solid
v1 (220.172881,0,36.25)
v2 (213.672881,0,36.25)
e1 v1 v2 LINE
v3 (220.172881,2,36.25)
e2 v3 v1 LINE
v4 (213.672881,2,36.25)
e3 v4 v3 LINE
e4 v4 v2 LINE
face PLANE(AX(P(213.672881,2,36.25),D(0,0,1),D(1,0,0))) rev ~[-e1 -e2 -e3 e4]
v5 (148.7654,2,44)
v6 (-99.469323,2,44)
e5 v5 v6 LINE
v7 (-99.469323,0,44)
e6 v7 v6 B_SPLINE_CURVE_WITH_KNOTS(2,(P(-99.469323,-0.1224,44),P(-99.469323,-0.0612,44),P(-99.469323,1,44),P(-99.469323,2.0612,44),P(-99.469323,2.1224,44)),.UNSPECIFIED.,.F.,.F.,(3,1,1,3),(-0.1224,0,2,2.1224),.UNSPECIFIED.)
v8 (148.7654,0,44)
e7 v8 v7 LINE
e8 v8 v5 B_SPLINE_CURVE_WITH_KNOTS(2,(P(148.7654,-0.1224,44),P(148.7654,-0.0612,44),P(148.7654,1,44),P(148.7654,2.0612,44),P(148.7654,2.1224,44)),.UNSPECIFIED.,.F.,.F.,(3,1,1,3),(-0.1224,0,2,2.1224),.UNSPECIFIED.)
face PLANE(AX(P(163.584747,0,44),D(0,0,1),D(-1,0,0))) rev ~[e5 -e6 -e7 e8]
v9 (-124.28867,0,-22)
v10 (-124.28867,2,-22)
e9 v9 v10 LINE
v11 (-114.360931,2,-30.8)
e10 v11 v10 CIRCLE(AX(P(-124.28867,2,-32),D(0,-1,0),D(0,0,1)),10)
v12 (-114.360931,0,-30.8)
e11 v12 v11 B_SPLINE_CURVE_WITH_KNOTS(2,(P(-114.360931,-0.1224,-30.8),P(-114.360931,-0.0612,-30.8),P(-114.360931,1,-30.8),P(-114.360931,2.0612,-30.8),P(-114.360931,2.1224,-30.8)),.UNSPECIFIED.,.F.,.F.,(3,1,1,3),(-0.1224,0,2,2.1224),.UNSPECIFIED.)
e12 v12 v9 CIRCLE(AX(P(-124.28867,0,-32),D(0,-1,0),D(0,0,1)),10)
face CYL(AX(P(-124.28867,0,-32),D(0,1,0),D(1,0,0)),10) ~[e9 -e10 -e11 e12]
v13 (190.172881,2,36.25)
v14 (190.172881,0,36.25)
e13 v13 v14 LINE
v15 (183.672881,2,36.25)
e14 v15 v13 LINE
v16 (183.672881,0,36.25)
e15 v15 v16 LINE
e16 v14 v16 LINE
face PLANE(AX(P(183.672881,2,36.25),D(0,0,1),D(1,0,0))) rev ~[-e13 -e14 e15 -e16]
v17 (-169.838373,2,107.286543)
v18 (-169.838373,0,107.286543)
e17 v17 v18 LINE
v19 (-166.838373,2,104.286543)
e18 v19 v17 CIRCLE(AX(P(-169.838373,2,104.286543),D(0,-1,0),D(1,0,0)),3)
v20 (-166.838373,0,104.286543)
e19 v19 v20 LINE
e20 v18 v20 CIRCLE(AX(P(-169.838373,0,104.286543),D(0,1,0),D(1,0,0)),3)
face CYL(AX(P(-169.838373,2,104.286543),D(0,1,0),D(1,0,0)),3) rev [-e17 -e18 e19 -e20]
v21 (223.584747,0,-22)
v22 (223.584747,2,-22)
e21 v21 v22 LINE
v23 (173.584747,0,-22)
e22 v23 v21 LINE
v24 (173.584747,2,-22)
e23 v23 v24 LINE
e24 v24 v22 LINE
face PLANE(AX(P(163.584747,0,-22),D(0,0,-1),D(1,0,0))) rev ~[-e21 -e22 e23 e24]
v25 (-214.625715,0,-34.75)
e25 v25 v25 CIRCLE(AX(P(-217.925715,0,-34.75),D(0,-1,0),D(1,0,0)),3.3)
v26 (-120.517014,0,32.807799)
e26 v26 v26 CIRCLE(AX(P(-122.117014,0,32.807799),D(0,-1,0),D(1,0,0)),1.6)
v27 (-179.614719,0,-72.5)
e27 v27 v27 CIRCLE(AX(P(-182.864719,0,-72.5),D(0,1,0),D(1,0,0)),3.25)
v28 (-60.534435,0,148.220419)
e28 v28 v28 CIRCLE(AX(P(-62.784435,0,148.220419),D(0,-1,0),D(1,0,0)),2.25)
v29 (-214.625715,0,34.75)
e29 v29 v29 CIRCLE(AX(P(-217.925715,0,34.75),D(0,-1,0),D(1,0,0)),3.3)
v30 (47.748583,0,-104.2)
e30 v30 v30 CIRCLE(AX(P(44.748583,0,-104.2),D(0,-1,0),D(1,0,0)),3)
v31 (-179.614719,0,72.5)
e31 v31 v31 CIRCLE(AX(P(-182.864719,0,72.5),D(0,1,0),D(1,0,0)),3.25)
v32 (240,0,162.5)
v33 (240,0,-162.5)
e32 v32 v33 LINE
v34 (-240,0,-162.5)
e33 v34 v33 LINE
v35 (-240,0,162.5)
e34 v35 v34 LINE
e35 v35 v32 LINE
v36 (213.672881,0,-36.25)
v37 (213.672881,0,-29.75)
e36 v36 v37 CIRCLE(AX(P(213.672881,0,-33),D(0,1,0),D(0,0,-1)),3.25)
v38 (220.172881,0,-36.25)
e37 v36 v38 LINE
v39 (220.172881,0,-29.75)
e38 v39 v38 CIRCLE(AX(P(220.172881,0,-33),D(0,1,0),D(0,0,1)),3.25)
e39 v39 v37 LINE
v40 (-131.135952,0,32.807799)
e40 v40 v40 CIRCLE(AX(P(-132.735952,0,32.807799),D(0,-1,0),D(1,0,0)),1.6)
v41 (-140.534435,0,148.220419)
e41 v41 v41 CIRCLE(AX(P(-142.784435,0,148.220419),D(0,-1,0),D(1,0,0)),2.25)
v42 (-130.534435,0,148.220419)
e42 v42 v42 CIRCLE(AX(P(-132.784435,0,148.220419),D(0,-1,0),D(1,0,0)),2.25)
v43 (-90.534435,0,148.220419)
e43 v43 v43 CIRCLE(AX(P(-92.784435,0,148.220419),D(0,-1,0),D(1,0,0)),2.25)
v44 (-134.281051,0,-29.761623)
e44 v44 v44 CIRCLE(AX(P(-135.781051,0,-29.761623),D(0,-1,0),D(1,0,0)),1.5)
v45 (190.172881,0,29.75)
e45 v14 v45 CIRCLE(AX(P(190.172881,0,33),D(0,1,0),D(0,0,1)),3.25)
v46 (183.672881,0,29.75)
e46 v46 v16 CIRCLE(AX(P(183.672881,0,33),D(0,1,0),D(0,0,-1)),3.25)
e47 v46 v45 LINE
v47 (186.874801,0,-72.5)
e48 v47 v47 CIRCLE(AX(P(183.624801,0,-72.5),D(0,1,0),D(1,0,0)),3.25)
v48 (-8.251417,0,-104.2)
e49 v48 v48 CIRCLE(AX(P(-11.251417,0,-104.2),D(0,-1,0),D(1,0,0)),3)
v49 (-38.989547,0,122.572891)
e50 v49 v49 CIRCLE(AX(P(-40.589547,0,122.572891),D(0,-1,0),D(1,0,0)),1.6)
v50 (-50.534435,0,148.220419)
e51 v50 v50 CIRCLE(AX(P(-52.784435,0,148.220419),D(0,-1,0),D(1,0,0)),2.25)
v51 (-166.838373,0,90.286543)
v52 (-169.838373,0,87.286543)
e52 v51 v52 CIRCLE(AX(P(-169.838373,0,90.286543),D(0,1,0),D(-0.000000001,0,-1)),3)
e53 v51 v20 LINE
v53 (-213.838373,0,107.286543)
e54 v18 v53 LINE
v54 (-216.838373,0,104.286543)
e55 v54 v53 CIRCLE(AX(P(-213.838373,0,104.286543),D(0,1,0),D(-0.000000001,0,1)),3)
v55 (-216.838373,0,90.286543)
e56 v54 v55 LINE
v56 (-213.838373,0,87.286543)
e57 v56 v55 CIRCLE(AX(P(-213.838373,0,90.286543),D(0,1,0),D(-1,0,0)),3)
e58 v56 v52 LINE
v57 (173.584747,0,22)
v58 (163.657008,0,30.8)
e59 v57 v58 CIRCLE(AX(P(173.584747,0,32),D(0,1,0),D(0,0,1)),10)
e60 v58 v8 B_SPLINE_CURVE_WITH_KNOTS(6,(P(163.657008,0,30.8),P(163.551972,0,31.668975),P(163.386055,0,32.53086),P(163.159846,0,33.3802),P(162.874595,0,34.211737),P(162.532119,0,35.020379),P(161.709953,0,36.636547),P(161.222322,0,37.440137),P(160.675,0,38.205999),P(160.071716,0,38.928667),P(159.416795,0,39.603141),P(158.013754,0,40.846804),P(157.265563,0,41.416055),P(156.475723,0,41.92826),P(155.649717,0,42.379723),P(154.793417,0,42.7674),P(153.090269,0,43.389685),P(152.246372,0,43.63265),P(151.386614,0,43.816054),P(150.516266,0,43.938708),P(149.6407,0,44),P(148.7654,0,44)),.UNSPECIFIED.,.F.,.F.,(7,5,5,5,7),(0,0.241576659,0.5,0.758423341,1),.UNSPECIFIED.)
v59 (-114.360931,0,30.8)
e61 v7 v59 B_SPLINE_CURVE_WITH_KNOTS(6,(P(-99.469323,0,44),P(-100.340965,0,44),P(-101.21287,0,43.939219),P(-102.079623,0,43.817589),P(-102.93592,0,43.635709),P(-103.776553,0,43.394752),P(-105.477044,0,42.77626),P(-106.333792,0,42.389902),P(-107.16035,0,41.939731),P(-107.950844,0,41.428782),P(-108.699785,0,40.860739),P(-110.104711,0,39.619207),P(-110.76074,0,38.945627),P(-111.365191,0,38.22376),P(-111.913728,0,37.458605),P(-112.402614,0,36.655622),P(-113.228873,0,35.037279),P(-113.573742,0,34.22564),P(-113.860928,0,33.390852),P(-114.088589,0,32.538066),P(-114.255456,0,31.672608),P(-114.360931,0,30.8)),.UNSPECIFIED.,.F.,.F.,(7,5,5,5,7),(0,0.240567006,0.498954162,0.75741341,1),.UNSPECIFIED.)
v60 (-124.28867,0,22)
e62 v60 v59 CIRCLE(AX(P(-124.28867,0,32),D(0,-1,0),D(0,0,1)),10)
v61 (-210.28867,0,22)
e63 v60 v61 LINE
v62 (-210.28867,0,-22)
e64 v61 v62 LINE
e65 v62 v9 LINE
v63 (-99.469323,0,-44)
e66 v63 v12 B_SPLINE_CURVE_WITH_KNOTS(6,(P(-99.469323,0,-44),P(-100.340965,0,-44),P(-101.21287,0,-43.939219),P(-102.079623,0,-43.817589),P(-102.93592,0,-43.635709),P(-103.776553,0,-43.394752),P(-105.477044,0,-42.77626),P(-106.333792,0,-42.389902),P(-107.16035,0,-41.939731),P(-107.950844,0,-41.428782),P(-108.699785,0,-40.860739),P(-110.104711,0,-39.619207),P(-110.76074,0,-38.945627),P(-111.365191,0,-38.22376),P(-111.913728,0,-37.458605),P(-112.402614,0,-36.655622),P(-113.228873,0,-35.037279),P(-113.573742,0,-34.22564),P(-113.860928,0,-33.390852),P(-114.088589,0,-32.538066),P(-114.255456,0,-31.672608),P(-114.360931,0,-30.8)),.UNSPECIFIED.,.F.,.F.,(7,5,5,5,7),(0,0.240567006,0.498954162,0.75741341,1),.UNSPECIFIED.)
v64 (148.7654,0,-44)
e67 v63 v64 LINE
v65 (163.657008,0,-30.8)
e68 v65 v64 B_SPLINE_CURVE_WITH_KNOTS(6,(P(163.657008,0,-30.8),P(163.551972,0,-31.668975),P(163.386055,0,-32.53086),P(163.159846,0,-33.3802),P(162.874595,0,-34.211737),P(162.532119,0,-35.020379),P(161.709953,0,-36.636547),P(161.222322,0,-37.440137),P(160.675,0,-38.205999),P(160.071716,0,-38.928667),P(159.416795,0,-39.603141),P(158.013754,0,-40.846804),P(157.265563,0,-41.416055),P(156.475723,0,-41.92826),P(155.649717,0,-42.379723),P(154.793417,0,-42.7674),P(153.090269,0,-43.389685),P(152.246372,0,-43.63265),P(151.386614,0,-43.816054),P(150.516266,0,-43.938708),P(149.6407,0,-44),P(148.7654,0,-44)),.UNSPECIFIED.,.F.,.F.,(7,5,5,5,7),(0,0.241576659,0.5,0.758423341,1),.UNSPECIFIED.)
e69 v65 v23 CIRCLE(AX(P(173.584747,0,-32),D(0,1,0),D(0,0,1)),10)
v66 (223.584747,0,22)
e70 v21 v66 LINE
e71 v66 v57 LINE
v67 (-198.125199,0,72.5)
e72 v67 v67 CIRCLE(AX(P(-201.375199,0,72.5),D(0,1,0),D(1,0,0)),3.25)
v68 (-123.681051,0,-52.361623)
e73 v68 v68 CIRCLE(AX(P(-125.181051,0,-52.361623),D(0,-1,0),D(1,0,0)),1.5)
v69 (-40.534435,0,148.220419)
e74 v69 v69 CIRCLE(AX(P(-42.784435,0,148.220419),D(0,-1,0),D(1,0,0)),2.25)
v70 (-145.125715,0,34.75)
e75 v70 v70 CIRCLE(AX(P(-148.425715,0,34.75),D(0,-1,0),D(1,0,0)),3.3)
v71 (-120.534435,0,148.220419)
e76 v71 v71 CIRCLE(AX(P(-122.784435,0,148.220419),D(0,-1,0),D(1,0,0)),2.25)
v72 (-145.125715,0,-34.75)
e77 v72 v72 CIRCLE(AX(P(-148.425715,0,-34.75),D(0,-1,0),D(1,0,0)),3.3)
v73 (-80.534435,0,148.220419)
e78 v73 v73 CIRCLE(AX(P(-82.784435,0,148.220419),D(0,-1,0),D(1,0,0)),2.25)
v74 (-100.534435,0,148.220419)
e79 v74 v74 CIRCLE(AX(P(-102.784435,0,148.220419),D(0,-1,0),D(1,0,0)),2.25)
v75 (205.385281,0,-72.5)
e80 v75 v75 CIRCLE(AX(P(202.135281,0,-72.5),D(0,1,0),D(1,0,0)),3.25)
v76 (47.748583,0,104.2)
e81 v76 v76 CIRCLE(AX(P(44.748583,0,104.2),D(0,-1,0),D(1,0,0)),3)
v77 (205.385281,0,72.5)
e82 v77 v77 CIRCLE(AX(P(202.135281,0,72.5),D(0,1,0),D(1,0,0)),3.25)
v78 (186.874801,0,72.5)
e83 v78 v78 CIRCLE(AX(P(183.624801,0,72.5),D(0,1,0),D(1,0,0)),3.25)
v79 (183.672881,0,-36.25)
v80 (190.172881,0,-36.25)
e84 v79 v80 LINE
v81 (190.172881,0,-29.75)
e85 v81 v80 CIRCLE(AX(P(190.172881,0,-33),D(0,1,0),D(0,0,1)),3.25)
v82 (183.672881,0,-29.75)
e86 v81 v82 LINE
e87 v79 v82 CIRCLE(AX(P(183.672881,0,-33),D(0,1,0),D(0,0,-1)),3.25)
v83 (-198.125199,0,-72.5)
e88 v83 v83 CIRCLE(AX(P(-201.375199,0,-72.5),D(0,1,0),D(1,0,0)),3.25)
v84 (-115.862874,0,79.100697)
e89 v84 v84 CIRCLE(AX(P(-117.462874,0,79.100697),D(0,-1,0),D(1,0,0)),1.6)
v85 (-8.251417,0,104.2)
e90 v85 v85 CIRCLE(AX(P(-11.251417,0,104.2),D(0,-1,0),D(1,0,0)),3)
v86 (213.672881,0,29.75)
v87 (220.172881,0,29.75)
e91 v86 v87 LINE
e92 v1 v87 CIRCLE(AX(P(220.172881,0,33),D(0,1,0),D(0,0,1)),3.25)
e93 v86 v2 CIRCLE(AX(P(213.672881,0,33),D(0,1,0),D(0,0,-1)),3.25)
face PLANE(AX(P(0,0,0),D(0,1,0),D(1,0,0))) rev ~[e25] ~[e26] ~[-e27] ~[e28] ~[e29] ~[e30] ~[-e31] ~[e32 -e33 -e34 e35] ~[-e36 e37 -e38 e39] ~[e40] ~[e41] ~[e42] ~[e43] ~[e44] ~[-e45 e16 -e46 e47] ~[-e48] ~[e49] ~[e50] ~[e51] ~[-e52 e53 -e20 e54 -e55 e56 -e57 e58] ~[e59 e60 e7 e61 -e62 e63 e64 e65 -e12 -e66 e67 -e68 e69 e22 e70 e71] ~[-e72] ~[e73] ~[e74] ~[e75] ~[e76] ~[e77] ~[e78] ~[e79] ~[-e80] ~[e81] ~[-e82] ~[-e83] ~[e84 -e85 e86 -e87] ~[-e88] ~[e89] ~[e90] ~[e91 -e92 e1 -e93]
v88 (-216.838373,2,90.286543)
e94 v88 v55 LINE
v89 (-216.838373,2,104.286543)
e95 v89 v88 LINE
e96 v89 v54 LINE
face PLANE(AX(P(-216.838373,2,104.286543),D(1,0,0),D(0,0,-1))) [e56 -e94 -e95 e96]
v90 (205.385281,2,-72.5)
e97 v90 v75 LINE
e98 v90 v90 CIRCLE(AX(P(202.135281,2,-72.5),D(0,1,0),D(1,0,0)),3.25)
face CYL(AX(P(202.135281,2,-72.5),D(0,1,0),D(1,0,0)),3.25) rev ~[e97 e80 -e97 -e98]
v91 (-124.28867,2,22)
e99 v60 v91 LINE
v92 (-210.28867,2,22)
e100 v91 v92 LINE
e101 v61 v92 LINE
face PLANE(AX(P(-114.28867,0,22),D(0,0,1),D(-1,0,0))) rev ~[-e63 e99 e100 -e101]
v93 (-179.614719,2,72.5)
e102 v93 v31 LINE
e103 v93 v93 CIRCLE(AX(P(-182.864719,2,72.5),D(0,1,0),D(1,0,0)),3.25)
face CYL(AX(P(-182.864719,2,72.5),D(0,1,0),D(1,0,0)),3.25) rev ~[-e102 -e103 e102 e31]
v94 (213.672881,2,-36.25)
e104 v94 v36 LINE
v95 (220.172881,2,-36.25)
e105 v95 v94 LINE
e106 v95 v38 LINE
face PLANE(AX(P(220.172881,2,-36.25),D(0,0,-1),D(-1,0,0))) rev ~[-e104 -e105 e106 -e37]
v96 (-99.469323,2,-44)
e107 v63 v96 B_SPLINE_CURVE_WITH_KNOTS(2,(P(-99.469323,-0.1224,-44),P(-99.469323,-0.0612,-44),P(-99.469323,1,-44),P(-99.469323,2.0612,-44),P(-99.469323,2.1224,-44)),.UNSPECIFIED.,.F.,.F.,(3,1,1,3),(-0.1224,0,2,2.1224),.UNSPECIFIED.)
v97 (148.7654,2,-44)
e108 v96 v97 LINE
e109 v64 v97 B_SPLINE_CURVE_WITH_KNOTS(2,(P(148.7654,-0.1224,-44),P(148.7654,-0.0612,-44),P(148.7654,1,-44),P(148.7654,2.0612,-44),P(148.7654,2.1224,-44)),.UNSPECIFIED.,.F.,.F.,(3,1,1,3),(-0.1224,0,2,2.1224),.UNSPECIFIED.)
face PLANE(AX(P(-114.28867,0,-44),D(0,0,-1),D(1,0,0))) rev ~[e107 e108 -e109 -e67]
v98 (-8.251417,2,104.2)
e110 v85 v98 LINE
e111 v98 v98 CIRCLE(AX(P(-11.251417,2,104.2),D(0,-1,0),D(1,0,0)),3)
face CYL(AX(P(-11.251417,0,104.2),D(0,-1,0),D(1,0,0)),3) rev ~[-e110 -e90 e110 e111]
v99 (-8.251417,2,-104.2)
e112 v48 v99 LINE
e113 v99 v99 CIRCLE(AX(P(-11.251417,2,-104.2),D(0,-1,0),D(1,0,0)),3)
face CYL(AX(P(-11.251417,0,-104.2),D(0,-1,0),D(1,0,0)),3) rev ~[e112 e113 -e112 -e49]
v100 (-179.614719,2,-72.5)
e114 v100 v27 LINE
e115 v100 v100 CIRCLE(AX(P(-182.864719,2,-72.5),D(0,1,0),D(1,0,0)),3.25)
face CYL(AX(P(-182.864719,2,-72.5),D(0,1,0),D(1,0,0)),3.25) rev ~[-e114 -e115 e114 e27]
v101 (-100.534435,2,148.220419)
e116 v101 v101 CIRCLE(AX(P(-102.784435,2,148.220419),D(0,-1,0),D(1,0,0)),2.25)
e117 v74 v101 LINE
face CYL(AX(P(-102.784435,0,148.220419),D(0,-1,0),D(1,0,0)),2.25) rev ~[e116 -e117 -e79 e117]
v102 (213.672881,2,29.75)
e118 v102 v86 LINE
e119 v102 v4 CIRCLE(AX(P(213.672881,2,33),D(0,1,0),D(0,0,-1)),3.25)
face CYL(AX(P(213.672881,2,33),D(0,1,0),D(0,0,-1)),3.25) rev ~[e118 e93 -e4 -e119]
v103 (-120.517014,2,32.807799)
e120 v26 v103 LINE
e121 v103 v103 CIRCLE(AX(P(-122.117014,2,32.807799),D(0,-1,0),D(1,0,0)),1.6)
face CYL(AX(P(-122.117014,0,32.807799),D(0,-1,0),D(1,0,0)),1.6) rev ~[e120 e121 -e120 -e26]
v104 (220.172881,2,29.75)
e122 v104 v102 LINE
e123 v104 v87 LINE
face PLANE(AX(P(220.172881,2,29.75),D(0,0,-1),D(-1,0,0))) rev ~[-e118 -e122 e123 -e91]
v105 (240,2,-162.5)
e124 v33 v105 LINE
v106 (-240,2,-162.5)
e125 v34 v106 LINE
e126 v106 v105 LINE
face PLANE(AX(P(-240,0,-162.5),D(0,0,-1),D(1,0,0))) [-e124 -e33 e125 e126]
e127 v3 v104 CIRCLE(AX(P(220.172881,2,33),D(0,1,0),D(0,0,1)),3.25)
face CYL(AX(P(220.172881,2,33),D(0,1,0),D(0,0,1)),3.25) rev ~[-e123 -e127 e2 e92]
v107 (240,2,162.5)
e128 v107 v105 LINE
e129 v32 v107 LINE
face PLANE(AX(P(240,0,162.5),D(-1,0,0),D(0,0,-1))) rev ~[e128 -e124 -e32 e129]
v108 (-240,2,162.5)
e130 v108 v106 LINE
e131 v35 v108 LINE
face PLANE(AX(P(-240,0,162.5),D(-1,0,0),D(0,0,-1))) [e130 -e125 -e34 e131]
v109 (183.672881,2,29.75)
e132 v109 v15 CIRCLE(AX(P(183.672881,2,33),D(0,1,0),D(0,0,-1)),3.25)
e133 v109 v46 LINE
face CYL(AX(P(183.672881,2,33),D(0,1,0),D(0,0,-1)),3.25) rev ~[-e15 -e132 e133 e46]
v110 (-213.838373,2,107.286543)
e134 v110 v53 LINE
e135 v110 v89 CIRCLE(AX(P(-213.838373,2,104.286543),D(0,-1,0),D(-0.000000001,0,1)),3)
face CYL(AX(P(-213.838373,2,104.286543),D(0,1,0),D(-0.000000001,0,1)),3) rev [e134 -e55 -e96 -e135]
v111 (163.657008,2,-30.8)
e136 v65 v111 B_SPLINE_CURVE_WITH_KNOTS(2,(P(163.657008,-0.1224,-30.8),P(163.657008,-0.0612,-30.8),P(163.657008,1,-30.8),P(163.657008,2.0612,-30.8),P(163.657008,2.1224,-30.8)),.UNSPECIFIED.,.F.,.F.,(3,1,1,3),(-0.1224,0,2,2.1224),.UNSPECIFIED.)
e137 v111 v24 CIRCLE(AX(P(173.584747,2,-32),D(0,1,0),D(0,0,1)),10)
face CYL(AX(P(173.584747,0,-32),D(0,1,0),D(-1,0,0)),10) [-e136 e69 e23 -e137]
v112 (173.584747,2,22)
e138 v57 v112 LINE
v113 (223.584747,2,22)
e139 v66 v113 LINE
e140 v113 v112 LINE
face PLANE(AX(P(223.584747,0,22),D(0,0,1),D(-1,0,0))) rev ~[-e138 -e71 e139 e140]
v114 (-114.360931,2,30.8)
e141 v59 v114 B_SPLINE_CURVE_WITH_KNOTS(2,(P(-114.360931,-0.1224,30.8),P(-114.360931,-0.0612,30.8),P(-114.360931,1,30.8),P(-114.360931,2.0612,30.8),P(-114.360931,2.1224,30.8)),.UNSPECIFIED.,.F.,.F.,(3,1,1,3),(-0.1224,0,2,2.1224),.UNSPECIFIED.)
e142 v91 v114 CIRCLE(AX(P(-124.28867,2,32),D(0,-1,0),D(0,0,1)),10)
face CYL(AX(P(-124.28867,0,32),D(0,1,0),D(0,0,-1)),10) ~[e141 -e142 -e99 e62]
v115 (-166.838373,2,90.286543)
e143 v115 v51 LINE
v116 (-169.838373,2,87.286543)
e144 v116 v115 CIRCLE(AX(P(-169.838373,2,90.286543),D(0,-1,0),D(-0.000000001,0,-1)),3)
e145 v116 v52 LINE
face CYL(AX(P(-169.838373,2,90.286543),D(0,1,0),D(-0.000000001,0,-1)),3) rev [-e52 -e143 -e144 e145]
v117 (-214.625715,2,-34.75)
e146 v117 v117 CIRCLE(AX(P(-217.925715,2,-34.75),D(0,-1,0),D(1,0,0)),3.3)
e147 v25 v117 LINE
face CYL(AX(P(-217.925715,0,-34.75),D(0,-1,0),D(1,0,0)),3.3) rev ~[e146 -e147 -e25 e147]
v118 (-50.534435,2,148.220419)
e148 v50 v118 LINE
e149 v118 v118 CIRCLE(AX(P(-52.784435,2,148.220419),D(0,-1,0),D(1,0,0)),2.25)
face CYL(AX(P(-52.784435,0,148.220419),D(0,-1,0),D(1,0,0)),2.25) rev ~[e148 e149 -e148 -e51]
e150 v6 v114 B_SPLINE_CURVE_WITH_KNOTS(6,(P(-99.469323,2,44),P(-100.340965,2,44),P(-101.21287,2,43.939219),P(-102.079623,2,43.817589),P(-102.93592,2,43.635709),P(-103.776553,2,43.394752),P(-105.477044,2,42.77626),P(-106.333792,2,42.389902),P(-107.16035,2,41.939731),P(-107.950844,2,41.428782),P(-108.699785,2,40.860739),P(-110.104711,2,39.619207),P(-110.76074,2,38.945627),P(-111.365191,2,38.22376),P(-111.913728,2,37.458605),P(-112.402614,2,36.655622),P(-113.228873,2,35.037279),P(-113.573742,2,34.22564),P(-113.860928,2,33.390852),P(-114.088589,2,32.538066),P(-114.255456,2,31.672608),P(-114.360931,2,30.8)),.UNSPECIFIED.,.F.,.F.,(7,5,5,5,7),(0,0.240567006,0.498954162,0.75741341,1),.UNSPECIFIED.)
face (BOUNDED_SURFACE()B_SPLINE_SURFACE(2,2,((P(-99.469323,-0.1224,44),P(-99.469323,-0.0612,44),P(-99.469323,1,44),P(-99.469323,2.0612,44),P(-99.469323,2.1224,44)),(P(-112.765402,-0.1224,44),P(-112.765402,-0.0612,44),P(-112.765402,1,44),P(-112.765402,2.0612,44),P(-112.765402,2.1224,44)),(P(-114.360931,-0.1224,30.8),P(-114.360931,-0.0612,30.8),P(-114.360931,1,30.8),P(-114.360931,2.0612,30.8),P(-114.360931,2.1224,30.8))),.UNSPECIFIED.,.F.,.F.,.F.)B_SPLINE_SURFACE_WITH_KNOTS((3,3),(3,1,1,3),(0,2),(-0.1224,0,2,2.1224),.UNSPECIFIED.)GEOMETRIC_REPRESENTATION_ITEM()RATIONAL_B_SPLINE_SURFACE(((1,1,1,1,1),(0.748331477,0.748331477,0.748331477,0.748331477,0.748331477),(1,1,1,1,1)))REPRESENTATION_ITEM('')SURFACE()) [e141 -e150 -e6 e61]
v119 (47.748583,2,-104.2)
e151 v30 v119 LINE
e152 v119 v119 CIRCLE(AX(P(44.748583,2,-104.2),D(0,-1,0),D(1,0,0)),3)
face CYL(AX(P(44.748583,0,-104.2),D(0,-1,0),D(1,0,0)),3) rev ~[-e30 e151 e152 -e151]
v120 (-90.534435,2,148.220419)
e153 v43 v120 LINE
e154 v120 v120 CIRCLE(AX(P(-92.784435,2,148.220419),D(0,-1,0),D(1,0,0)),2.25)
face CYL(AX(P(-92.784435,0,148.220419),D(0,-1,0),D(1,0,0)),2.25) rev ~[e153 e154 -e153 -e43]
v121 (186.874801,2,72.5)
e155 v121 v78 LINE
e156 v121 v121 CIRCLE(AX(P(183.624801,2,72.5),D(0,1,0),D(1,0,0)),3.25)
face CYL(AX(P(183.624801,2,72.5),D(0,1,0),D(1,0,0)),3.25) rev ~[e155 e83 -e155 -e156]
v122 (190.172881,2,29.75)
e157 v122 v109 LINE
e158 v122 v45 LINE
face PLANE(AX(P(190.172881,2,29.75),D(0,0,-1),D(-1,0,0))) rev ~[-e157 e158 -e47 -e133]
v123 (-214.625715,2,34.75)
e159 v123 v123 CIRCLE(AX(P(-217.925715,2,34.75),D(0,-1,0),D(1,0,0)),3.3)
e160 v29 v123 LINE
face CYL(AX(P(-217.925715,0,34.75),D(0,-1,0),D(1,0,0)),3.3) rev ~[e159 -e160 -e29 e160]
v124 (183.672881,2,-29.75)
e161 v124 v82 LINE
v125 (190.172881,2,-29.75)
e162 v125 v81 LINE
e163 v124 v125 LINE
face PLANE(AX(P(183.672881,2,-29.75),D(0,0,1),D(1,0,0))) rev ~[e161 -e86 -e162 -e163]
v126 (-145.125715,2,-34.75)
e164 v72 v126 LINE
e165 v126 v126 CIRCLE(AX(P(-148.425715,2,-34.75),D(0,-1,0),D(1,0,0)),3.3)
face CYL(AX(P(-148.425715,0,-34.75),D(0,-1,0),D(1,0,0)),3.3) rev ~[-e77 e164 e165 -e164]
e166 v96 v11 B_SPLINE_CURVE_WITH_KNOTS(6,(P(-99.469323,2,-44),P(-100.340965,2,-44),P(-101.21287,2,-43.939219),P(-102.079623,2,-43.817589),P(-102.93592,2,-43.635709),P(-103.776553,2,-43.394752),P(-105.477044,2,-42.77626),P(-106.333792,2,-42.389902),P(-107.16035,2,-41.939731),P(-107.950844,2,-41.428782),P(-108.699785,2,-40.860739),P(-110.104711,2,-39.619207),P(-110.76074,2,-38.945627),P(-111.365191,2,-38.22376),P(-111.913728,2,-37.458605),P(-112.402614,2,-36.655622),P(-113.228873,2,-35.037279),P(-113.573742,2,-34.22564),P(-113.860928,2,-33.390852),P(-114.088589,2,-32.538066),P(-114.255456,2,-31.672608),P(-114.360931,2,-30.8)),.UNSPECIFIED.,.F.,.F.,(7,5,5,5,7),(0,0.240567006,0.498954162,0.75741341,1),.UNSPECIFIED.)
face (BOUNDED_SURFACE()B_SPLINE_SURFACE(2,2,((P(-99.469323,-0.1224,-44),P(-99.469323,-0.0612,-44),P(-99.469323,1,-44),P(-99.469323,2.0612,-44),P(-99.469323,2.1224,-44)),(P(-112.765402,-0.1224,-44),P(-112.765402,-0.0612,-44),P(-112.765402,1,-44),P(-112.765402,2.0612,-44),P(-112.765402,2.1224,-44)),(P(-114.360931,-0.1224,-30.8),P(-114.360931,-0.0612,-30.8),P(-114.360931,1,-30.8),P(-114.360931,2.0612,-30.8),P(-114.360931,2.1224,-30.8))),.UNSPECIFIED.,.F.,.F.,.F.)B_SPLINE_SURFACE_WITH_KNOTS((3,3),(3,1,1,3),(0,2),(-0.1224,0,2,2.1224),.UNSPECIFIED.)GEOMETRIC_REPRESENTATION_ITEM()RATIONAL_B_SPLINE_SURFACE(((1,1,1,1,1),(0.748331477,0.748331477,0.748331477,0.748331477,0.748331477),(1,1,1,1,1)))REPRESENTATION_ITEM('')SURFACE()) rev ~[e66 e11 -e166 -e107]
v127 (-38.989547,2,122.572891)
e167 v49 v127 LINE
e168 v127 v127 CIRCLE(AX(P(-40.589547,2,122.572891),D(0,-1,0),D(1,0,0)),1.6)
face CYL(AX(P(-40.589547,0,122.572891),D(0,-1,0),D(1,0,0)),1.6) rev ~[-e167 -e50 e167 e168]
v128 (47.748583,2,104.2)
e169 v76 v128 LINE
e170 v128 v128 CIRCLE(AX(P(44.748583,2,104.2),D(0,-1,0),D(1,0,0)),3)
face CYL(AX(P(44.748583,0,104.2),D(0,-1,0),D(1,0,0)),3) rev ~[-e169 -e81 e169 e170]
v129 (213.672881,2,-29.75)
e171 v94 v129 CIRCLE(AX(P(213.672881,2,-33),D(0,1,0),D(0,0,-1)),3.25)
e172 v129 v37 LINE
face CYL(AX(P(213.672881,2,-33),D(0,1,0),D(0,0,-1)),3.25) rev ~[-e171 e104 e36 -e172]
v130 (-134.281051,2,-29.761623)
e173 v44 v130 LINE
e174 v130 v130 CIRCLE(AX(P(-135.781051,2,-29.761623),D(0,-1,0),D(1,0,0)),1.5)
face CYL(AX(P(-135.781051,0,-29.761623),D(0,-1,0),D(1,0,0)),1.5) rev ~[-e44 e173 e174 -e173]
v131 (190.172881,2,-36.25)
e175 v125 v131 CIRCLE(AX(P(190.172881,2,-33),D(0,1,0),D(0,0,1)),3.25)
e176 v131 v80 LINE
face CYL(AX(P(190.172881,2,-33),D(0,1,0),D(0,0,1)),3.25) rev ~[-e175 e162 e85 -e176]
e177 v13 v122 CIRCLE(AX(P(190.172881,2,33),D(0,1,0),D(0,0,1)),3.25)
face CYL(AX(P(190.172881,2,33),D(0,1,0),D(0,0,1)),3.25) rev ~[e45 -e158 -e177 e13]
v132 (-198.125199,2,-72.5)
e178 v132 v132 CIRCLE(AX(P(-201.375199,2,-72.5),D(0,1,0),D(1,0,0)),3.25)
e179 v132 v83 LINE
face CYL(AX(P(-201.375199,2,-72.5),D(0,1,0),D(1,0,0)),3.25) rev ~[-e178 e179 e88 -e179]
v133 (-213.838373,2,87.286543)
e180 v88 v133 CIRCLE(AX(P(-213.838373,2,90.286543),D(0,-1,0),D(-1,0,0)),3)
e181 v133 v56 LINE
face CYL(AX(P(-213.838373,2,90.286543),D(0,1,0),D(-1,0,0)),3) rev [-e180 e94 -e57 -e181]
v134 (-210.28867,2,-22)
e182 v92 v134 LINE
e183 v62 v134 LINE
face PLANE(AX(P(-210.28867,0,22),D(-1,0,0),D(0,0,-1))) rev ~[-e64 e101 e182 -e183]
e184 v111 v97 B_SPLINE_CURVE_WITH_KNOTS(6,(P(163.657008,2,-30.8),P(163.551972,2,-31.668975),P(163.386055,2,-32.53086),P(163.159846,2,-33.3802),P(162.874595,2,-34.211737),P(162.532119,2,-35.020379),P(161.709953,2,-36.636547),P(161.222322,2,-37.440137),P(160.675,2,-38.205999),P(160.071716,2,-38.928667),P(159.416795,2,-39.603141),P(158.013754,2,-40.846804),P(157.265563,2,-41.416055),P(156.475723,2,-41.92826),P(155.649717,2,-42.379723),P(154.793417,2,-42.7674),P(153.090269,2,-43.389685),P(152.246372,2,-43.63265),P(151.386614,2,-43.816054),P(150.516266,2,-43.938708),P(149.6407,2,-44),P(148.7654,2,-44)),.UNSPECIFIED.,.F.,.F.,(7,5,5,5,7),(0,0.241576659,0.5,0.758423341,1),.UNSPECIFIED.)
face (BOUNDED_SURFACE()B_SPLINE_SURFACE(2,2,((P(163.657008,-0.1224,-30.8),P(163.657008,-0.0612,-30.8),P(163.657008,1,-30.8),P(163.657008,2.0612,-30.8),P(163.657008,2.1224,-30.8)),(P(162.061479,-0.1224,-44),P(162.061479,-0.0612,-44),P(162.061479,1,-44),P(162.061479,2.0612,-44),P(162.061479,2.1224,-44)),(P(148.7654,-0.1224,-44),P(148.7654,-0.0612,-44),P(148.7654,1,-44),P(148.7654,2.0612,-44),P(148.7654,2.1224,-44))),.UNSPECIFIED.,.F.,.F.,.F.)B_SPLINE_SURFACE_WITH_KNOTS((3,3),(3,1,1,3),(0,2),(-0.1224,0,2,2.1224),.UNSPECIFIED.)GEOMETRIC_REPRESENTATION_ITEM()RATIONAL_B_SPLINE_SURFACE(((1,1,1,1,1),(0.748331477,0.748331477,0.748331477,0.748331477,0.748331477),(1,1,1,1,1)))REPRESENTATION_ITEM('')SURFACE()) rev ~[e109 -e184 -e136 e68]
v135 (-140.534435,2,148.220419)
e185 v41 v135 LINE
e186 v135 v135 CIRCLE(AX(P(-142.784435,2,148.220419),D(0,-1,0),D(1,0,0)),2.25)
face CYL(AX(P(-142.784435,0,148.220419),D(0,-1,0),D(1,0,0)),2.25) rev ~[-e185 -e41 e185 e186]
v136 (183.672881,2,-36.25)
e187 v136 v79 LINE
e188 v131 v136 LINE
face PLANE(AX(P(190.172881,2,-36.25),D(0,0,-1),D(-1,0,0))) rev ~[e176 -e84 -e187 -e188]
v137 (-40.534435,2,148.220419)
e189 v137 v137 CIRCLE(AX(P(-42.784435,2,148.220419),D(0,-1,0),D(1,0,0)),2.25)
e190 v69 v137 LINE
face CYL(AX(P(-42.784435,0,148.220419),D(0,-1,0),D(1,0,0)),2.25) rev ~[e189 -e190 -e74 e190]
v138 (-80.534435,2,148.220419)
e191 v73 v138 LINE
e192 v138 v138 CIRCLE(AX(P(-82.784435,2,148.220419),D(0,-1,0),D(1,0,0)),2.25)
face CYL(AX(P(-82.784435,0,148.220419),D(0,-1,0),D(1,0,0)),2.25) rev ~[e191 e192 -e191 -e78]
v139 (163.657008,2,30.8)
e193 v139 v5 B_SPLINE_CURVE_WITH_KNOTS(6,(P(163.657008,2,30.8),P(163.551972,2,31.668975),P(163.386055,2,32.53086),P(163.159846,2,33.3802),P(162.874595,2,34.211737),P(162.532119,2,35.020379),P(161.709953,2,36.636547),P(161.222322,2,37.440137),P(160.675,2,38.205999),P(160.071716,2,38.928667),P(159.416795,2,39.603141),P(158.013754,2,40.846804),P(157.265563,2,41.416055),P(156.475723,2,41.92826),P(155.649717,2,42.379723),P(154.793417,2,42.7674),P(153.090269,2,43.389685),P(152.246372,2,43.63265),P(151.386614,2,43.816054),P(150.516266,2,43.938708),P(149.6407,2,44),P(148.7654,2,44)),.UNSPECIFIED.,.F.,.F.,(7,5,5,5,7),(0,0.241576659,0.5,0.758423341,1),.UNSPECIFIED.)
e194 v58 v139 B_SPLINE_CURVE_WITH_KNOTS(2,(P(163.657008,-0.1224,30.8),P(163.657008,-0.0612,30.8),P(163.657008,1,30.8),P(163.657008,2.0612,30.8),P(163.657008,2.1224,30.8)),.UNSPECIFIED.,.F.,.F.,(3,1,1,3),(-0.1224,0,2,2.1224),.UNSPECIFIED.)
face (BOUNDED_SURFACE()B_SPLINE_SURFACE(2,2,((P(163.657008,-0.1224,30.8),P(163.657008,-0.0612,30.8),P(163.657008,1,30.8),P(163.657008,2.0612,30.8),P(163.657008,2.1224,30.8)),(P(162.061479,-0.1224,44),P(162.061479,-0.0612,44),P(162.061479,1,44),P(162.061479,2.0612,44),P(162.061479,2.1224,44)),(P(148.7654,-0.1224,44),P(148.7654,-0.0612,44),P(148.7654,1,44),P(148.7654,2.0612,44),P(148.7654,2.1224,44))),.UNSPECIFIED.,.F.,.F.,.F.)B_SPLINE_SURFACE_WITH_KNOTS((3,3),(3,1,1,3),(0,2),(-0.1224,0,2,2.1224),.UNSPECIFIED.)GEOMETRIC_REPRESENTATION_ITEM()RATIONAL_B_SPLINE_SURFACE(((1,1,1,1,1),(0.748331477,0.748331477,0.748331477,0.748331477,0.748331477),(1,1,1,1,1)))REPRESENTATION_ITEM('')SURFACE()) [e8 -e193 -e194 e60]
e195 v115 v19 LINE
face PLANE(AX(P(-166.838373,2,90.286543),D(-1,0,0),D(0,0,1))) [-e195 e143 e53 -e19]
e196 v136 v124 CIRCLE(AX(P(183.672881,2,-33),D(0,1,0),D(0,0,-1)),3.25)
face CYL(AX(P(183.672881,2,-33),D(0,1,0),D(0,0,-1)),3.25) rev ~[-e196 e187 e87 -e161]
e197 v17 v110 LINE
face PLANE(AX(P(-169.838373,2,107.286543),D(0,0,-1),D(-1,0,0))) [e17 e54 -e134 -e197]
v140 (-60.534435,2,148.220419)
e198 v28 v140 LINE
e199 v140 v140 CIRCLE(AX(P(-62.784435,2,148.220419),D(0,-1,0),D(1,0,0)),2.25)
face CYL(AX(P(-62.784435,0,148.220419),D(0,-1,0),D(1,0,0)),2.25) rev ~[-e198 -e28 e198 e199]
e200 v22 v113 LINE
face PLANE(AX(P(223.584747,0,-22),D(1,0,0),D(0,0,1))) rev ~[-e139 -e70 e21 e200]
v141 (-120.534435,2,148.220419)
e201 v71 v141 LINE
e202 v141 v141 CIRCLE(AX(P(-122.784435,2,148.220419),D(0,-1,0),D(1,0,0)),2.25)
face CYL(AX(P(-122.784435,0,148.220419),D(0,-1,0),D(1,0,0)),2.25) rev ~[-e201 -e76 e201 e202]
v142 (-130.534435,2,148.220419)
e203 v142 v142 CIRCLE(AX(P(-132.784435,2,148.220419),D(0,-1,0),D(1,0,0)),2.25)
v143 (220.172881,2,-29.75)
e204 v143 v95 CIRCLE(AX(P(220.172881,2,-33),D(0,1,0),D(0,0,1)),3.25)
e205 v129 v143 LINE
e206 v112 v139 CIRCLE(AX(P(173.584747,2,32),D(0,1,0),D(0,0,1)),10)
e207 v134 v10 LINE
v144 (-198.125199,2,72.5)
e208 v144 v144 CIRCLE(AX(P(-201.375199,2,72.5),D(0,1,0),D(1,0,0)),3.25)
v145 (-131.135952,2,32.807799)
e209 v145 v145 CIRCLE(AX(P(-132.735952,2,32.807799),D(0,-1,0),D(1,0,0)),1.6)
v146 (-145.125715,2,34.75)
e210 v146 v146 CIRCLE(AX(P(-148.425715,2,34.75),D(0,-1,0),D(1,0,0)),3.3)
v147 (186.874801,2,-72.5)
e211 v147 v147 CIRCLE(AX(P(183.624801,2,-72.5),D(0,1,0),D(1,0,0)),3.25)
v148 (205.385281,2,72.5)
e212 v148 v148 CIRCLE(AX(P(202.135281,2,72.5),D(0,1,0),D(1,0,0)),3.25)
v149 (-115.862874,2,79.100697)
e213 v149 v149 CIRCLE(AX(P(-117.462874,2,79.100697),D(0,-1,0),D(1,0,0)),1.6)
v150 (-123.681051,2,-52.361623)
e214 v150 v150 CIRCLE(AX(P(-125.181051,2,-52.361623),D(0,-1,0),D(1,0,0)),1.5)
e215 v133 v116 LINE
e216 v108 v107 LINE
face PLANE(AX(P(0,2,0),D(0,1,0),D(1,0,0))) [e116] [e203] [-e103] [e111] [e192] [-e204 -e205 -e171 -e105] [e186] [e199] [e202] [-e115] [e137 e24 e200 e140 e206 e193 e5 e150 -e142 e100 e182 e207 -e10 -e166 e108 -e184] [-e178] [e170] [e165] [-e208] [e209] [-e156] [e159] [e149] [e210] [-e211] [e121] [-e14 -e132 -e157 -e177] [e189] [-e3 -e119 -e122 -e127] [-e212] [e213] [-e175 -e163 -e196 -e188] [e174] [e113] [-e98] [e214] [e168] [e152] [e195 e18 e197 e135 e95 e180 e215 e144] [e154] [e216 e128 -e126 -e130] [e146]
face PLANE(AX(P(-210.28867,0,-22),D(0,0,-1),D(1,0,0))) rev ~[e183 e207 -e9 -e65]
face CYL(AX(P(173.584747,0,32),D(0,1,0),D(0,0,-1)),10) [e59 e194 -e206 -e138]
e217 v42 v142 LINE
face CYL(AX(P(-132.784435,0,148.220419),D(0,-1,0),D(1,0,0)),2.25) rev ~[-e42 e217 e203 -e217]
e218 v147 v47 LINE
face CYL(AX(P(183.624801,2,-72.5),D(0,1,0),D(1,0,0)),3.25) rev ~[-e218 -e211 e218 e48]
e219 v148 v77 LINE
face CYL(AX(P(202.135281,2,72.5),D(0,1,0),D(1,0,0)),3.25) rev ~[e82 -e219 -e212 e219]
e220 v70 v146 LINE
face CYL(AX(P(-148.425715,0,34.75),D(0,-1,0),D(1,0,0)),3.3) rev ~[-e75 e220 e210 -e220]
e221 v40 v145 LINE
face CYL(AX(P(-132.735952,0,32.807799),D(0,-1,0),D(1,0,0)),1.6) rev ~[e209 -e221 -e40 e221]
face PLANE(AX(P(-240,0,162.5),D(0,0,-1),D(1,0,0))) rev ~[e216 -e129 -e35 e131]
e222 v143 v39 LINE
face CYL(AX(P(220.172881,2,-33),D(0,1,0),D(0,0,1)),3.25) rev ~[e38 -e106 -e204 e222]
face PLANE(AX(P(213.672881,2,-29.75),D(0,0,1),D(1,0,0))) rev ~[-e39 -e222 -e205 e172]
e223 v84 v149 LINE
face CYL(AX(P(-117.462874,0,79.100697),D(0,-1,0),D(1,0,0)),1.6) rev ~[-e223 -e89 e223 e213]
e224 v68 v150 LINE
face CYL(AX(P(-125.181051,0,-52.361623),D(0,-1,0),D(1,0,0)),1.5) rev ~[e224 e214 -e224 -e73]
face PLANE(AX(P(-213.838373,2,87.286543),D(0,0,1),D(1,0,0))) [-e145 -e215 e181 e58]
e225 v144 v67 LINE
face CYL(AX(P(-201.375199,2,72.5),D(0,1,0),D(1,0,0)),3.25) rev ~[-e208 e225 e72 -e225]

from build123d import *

# Parameters (mm, degrees)
SKETCH1_W           = 480
SKETCH1_H           = 325
BOSS_EXTRUDE1_DEPTH = 2
CUT_EXTRUDE1_REACH  = 4
SKETCH2_R           = 3
CUT_EXTRUDE2_REACH  = 4
FILLET1_R           = 10
CUT_EXTRUDE3_REACH  = 4
SKETCH4_R           = 3.3
FILLET2_R           = 10
CUT_EXTRUDE11_REACH = 4
SKETCH12_R          = 1.5
FILLET3_R           = 15
CUT_EXTRUDE13_DEPTH = 3.0000001
CUT_EXTRUDE14_REACH = 4
SKETCH15_R          = 3.25
CUT_EXTRUDE15_REACH = 4
CUT_EXTRUDE16_REACH = 4
SKETCH17_R          = 1.6
CUT_EXTRUDE17_REACH = 4
SKETCH18_R          = 2.25


with BuildPart() as part:
    # Sketch1 → Boss-Extrude1 (new body)
    with BuildSketch(Plane(origin=(0, 0, 0), x_dir=(1, 0, 0), z_dir=(0, 1, 0))):
        Rectangle(SKETCH1_W, SKETCH1_H)
    extrude(amount=BOSS_EXTRUDE1_DEPTH)

    # Sketch2 → Cut-Extrude1 (cut, up to next)
    with BuildSketch(Plane.XZ, mode=Mode.PRIVATE) as cut_extrude1_sk1:
        with Locations((44.748582867, -104.2)):
            Circle(SKETCH2_R)
    cut_extrude1_tool1 = extrude(cut_extrude1_sk1.sketch, amount=-CUT_EXTRUDE1_REACH, mode=Mode.PRIVATE) & part.part
    add(cut_extrude1_tool1.solids().sort_by_distance((44.748583, 0, -104.2))[0], mode=Mode.SUBTRACT)
    # Sketch2 → Cut-Extrude1 (cut, up to next)
    with BuildSketch(Plane.XZ, mode=Mode.PRIVATE) as cut_extrude1_sk2:
        with Locations((-11.251417133, -104.2)):
            Circle(SKETCH2_R)
    cut_extrude1_tool2 = extrude(cut_extrude1_sk2.sketch, amount=-CUT_EXTRUDE1_REACH, mode=Mode.PRIVATE) & part.part
    add(cut_extrude1_tool2.solids().sort_by_distance((-11.251417, 0, -104.2))[0], mode=Mode.SUBTRACT)
    # Sketch2 → Cut-Extrude1 (cut, up to next)
    with BuildSketch(Plane.XZ, mode=Mode.PRIVATE) as cut_extrude1_sk3:
        with Locations((44.748582867, 104.2)):
            Circle(SKETCH2_R)
    cut_extrude1_tool3 = extrude(cut_extrude1_sk3.sketch, amount=-CUT_EXTRUDE1_REACH, mode=Mode.PRIVATE) & part.part
    add(cut_extrude1_tool3.solids().sort_by_distance((44.748583, 0, 104.2))[0], mode=Mode.SUBTRACT)
    # Sketch2 → Cut-Extrude1 (cut, up to next)
    with BuildSketch(Plane.XZ, mode=Mode.PRIVATE) as cut_extrude1_sk4:
        with Locations((-11.251417133, 104.2)):
            Circle(SKETCH2_R)
    cut_extrude1_tool4 = extrude(cut_extrude1_sk4.sketch, amount=-CUT_EXTRUDE1_REACH, mode=Mode.PRIVATE) & part.part
    add(cut_extrude1_tool4.solids().sort_by_distance((-11.251417, 0, 104.2))[0], mode=Mode.SUBTRACT)

    # Sketch3 → Cut-Extrude2 (cut, up to next)
    with BuildSketch(Plane.XZ, mode=Mode.PRIVATE) as cut_extrude2_sk1:
        Polygon((163.584746975, 44), (-114.288669968, 44), (-114.288669968, 22), (-210.288669968, 22), (-210.288669968, -22), (-114.288669968, -22), (-114.288669968, -44), (163.584746975, -44), (163.584746975, -22), (223.584746975, -22), (223.584746975, 22), (163.584746975, 22), align=None)
    cut_extrude2_tool1 = extrude(cut_extrude2_sk1.sketch, amount=-CUT_EXTRUDE2_REACH, mode=Mode.PRIVATE) & part.part
    add(cut_extrude2_tool1.solids().sort_by_distance((13.675427, 0, 0))[0], mode=Mode.SUBTRACT)

    # Fillet1
    fillet1_edges = [part.edges().sort_by_distance(p)[0] for p in [
        (-114.288669968, 1, -22),
        (-114.288669968, 1, 22),
    ]]
    fillet(fillet1_edges, radius=FILLET1_R)

    # Sketch4 → Cut-Extrude3 (cut, up to next)
    with BuildSketch(Plane.XZ, mode=Mode.PRIVATE) as cut_extrude3_sk1:
        with Locations((-148.425714853, -34.75)):
            Circle(SKETCH4_R)
    cut_extrude3_tool1 = extrude(cut_extrude3_sk1.sketch, amount=-CUT_EXTRUDE3_REACH, mode=Mode.PRIVATE) & part.part
    add(cut_extrude3_tool1.solids().sort_by_distance((-148.425715, 0, -34.75))[0], mode=Mode.SUBTRACT)
    # Sketch4 → Cut-Extrude3 (cut, up to next)
    with BuildSketch(Plane.XZ, mode=Mode.PRIVATE) as cut_extrude3_sk2:
        with Locations((-148.425714853, 34.75)):
            Circle(SKETCH4_R)
    cut_extrude3_tool2 = extrude(cut_extrude3_sk2.sketch, amount=-CUT_EXTRUDE3_REACH, mode=Mode.PRIVATE) & part.part
    add(cut_extrude3_tool2.solids().sort_by_distance((-148.425715, 0, 34.75))[0], mode=Mode.SUBTRACT)
    # Sketch4 → Cut-Extrude3 (cut, up to next)
    with BuildSketch(Plane.XZ, mode=Mode.PRIVATE) as cut_extrude3_sk3:
        with Locations((-217.925714853, 34.75)):
            Circle(SKETCH4_R)
    cut_extrude3_tool3 = extrude(cut_extrude3_sk3.sketch, amount=-CUT_EXTRUDE3_REACH, mode=Mode.PRIVATE) & part.part
    add(cut_extrude3_tool3.solids().sort_by_distance((-217.925715, 0, 34.75))[0], mode=Mode.SUBTRACT)
    # Sketch4 → Cut-Extrude3 (cut, up to next)
    with BuildSketch(Plane.XZ, mode=Mode.PRIVATE) as cut_extrude3_sk4:
        with Locations((-217.925714853, -34.75)):
            Circle(SKETCH4_R)
    cut_extrude3_tool4 = extrude(cut_extrude3_sk4.sketch, amount=-CUT_EXTRUDE3_REACH, mode=Mode.PRIVATE) & part.part
    add(cut_extrude3_tool4.solids().sort_by_distance((-217.925715, 0, -34.75))[0], mode=Mode.SUBTRACT)

    # Fillet2
    fillet2_edges = [part.edges().sort_by_distance(p)[0] for p in [
        (163.584746975, 1, 22),
        (163.584746975, 1, -22),
    ]]
    fillet(fillet2_edges, radius=FILLET2_R)

    # Sketch12 → Cut-Extrude11 (cut, up to next)
    with BuildSketch(Plane.XZ, mode=Mode.PRIVATE) as cut_extrude11_sk1:
        with Locations((-135.781050863, -29.761622515)):
            Circle(SKETCH12_R)
    cut_extrude11_tool1 = extrude(cut_extrude11_sk1.sketch, amount=-CUT_EXTRUDE11_REACH, mode=Mode.PRIVATE) & part.part
    add(cut_extrude11_tool1.solids().sort_by_distance((-135.781051, 0, -29.761623))[0], mode=Mode.SUBTRACT)
    # Sketch12 → Cut-Extrude11 (cut, up to next)
    with BuildSketch(Plane.XZ, mode=Mode.PRIVATE) as cut_extrude11_sk2:
        with Locations((-125.181050863, -52.361622515)):
            Circle(SKETCH12_R)
    cut_extrude11_tool2 = extrude(cut_extrude11_sk2.sketch, amount=-CUT_EXTRUDE11_REACH, mode=Mode.PRIVATE) & part.part
    add(cut_extrude11_tool2.solids().sort_by_distance((-125.181051, 0, -52.361623))[0], mode=Mode.SUBTRACT)

    # Fillet3
    fillet3_edges = [part.edges().sort_by_distance(p)[0] for p in [
        (163.584746975, 1, 44),
        (163.584746975, 1, -44),
        (-114.288669968, 1, 44),
        (-114.288669968, 1, -44),
    ]]
    fillet(fillet3_edges, radius=FILLET3_R)

    # Sketch14 → Cut-Extrude13 (cut, through all)
    with BuildSketch(Plane(origin=(0, 2, 0), x_dir=(1, 0, 0), z_dir=(0, 1, 0))):
        with BuildLine():
            Line((-213.838373062, -87.286543442), (-169.838373062, -87.286543442))
            ThreePointArc((-169.838373062, -87.286543442), (-167.717052718, -88.165223098), (-166.838373062, -90.286543442))
            Line((-166.838373062, -90.286543442), (-166.838373062, -104.286543442))
            ThreePointArc((-166.838373062, -104.286543442), (-167.717052718, -106.407863785), (-169.838373062, -107.286543442))
            Line((-169.838373062, -107.286543442), (-213.838373062, -107.286543442))
            ThreePointArc((-213.838373062, -107.286543442), (-215.959693405, -106.407863785), (-216.838373062, -104.286543442))
            Line((-216.838373062, -104.286543442), (-216.838373062, -90.286543442))
            ThreePointArc((-216.838373062, -90.286543442), (-215.959693405, -88.165223098), (-213.838373062, -87.286543442))
        make_face()
    extrude(amount=-CUT_EXTRUDE13_DEPTH, mode=Mode.SUBTRACT)

    # Sketch15 → Cut-Extrude14 (cut, up to next)
    with BuildSketch(Plane(origin=(0, 2, 0), x_dir=(1, 0, 0), z_dir=(0, 1, 0)), mode=Mode.PRIVATE) as cut_extrude14_sk1:
        with Locations((-201.37519906, -72.5)):
            Circle(SKETCH15_R)
    cut_extrude14_tool1 = extrude(cut_extrude14_sk1.sketch, amount=-CUT_EXTRUDE14_REACH, mode=Mode.PRIVATE) & part.part
    add(cut_extrude14_tool1.solids().sort_by_distance((-201.375199, 2, 72.5))[0], mode=Mode.SUBTRACT)
    # Sketch15 → Cut-Extrude14 (cut, up to next)
    with BuildSketch(Plane(origin=(0, 2, 0), x_dir=(1, 0, 0), z_dir=(0, 1, 0)), mode=Mode.PRIVATE) as cut_extrude14_sk2:
        with Locations((-182.864719491, -72.5)):
            Circle(SKETCH15_R)
    cut_extrude14_tool2 = extrude(cut_extrude14_sk2.sketch, amount=-CUT_EXTRUDE14_REACH, mode=Mode.PRIVATE) & part.part
    add(cut_extrude14_tool2.solids().sort_by_distance((-182.864719, 2, 72.5))[0], mode=Mode.SUBTRACT)
    # Sketch15 → Cut-Extrude14 (cut, up to next)
    with BuildSketch(Plane(origin=(0, 2, 0), x_dir=(1, 0, 0), z_dir=(0, 1, 0)), mode=Mode.PRIVATE) as cut_extrude14_sk3:
        with Locations((-201.37519906, 72.5)):
            Circle(SKETCH15_R)
    cut_extrude14_tool3 = extrude(cut_extrude14_sk3.sketch, amount=-CUT_EXTRUDE14_REACH, mode=Mode.PRIVATE) & part.part
    add(cut_extrude14_tool3.solids().sort_by_distance((-201.375199, 2, -72.5))[0], mode=Mode.SUBTRACT)
    # Sketch15 → Cut-Extrude14 (cut, up to next)
    with BuildSketch(Plane(origin=(0, 2, 0), x_dir=(1, 0, 0), z_dir=(0, 1, 0)), mode=Mode.PRIVATE) as cut_extrude14_sk4:
        with Locations((-182.864719491, 72.5)):
            Circle(SKETCH15_R)
    cut_extrude14_tool4 = extrude(cut_extrude14_sk4.sketch, amount=-CUT_EXTRUDE14_REACH, mode=Mode.PRIVATE) & part.part
    add(cut_extrude14_tool4.solids().sort_by_distance((-182.864719, 2, -72.5))[0], mode=Mode.SUBTRACT)
    # Sketch15 → Cut-Extrude14 (cut, up to next)
    with BuildSketch(Plane(origin=(0, 2, 0), x_dir=(1, 0, 0), z_dir=(0, 1, 0)), mode=Mode.PRIVATE) as cut_extrude14_sk5:
        with Locations((183.62480094, 72.5)):
            Circle(SKETCH15_R)
    cut_extrude14_tool5 = extrude(cut_extrude14_sk5.sketch, amount=-CUT_EXTRUDE14_REACH, mode=Mode.PRIVATE) & part.part
    add(cut_extrude14_tool5.solids().sort_by_distance((183.624801, 2, -72.5))[0], mode=Mode.SUBTRACT)
    # Sketch15 → Cut-Extrude14 (cut, up to next)
    with BuildSketch(Plane(origin=(0, 2, 0), x_dir=(1, 0, 0), z_dir=(0, 1, 0)), mode=Mode.PRIVATE) as cut_extrude14_sk6:
        with Locations((202.135280509, 72.5)):
            Circle(SKETCH15_R)
    cut_extrude14_tool6 = extrude(cut_extrude14_sk6.sketch, amount=-CUT_EXTRUDE14_REACH, mode=Mode.PRIVATE) & part.part
    add(cut_extrude14_tool6.solids().sort_by_distance((202.135281, 2, -72.5))[0], mode=Mode.SUBTRACT)
    # Sketch15 → Cut-Extrude14 (cut, up to next)
    with BuildSketch(Plane(origin=(0, 2, 0), x_dir=(1, 0, 0), z_dir=(0, 1, 0)), mode=Mode.PRIVATE) as cut_extrude14_sk7:
        with Locations((183.62480094, -72.5)):
            Circle(SKETCH15_R)
    cut_extrude14_tool7 = extrude(cut_extrude14_sk7.sketch, amount=-CUT_EXTRUDE14_REACH, mode=Mode.PRIVATE) & part.part
    add(cut_extrude14_tool7.solids().sort_by_distance((183.624801, 2, 72.5))[0], mode=Mode.SUBTRACT)
    # Sketch15 → Cut-Extrude14 (cut, up to next)
    with BuildSketch(Plane(origin=(0, 2, 0), x_dir=(1, 0, 0), z_dir=(0, 1, 0)), mode=Mode.PRIVATE) as cut_extrude14_sk8:
        with Locations((202.135280509, -72.5)):
            Circle(SKETCH15_R)
    cut_extrude14_tool8 = extrude(cut_extrude14_sk8.sketch, amount=-CUT_EXTRUDE14_REACH, mode=Mode.PRIVATE) & part.part
    add(cut_extrude14_tool8.solids().sort_by_distance((202.135281, 2, 72.5))[0], mode=Mode.SUBTRACT)

    # Sketch16 → Cut-Extrude15 (cut, up to next)
    with BuildSketch(Plane(origin=(0, 2, 0), x_dir=(1, 0, 0), z_dir=(0, 1, 0)), mode=Mode.PRIVATE) as cut_extrude15_sk1:
        with BuildLine():
            Line((183.672880587, -36.25), (190.172880587, -36.25))
            ThreePointArc((190.172880587, -36.25), (193.422880587, -33), (190.172880587, -29.75))
            Line((190.172880587, -29.75), (183.672880587, -29.75))
            ThreePointArc((183.672880587, -29.75), (180.422880587, -33), (183.672880587, -36.25))
        make_face()
    cut_extrude15_tool1 = extrude(cut_extrude15_sk1.sketch, amount=-CUT_EXTRUDE15_REACH, mode=Mode.PRIVATE) & part.part
    add(cut_extrude15_tool1.solids().sort_by_distance((186.922881, 2, 33))[0], mode=Mode.SUBTRACT)
    # Sketch16 → Cut-Extrude15 (cut, up to next)
    with BuildSketch(Plane(origin=(0, 2, 0), x_dir=(1, 0, 0), z_dir=(0, 1, 0)), mode=Mode.PRIVATE) as cut_extrude15_sk2:
        with BuildLine():
            Line((213.672880587, -36.25), (220.172880587, -36.25))
            ThreePointArc((220.172880587, -36.25), (223.422880587, -33), (220.172880587, -29.75))
            Line((220.172880587, -29.75), (213.672880587, -29.75))
            ThreePointArc((213.672880587, -29.75), (210.422880587, -33), (213.672880587, -36.25))
        make_face()
    cut_extrude15_tool2 = extrude(cut_extrude15_sk2.sketch, amount=-CUT_EXTRUDE15_REACH, mode=Mode.PRIVATE) & part.part
    add(cut_extrude15_tool2.solids().sort_by_distance((216.922881, 2, 33))[0], mode=Mode.SUBTRACT)
    # Sketch16 → Cut-Extrude15 (cut, up to next)
    with BuildSketch(Plane(origin=(0, 2, 0), x_dir=(1, 0, 0), z_dir=(0, 1, 0)), mode=Mode.PRIVATE) as cut_extrude15_sk3:
        with BuildLine():
            Line((183.672880587, 29.75), (190.172880587, 29.75))
            ThreePointArc((190.172880587, 29.75), (193.422880587, 33), (190.172880587, 36.25))
            Line((190.172880587, 36.25), (183.672880587, 36.25))
            ThreePointArc((183.672880587, 36.25), (180.422880587, 33), (183.672880587, 29.75))
        make_face()
    cut_extrude15_tool3 = extrude(cut_extrude15_sk3.sketch, amount=-CUT_EXTRUDE15_REACH, mode=Mode.PRIVATE) & part.part
    add(cut_extrude15_tool3.solids().sort_by_distance((186.922881, 2, -33))[0], mode=Mode.SUBTRACT)
    # Sketch16 → Cut-Extrude15 (cut, up to next)
    with BuildSketch(Plane(origin=(0, 2, 0), x_dir=(1, 0, 0), z_dir=(0, 1, 0)), mode=Mode.PRIVATE) as cut_extrude15_sk4:
        with BuildLine():
            Line((213.672880587, 29.75), (220.172880587, 29.75))
            ThreePointArc((220.172880587, 29.75), (223.422880587, 33), (220.172880587, 36.25))
            Line((220.172880587, 36.25), (213.672880587, 36.25))
            ThreePointArc((213.672880587, 36.25), (210.422880587, 33), (213.672880587, 29.75))
        make_face()
    cut_extrude15_tool4 = extrude(cut_extrude15_sk4.sketch, amount=-CUT_EXTRUDE15_REACH, mode=Mode.PRIVATE) & part.part
    add(cut_extrude15_tool4.solids().sort_by_distance((216.922881, 2, -33))[0], mode=Mode.SUBTRACT)

    # Sketch17 → Cut-Extrude16 (cut, up to next)
    with BuildSketch(Plane.XZ, mode=Mode.PRIVATE) as cut_extrude16_sk1:
        with Locations((-40.589546706, 122.572891409)):
            Circle(SKETCH17_R)
    cut_extrude16_tool1 = extrude(cut_extrude16_sk1.sketch, amount=-CUT_EXTRUDE16_REACH, mode=Mode.PRIVATE) & part.part
    add(cut_extrude16_tool1.solids().sort_by_distance((-40.589547, 0, 122.572891))[0], mode=Mode.SUBTRACT)
    # Sketch17 → Cut-Extrude16 (cut, up to next)
    with BuildSketch(Plane.XZ, mode=Mode.PRIVATE) as cut_extrude16_sk2:
        with Locations((-117.462873797, 79.100697163)):
            Circle(SKETCH17_R)
    cut_extrude16_tool2 = extrude(cut_extrude16_sk2.sketch, amount=-CUT_EXTRUDE16_REACH, mode=Mode.PRIVATE) & part.part
    add(cut_extrude16_tool2.solids().sort_by_distance((-117.462874, 0, 79.100697))[0], mode=Mode.SUBTRACT)
    # Sketch17 → Cut-Extrude16 (cut, up to next)
    with BuildSketch(Plane.XZ, mode=Mode.PRIVATE) as cut_extrude16_sk3:
        with Locations((-132.735951635, 32.807798569)):
            Circle(SKETCH17_R)
    cut_extrude16_tool3 = extrude(cut_extrude16_sk3.sketch, amount=-CUT_EXTRUDE16_REACH, mode=Mode.PRIVATE) & part.part
    add(cut_extrude16_tool3.solids().sort_by_distance((-132.735952, 0, 32.807799))[0], mode=Mode.SUBTRACT)
    # Sketch17 → Cut-Extrude16 (cut, up to next)
    with BuildSketch(Plane.XZ, mode=Mode.PRIVATE) as cut_extrude16_sk4:
        with Locations((-122.117014245, 32.807798569)):
            Circle(SKETCH17_R)
    cut_extrude16_tool4 = extrude(cut_extrude16_sk4.sketch, amount=-CUT_EXTRUDE16_REACH, mode=Mode.PRIVATE) & part.part
    add(cut_extrude16_tool4.solids().sort_by_distance((-122.117014, 0, 32.807799))[0], mode=Mode.SUBTRACT)

    # Sketch18 → Cut-Extrude17 (cut, up to next)
    with BuildSketch(Plane.XZ, mode=Mode.PRIVATE) as cut_extrude17_sk1:
        with Locations((-42.784434574, 148.220418613)):
            Circle(SKETCH18_R)
    cut_extrude17_tool1 = extrude(cut_extrude17_sk1.sketch, amount=-CUT_EXTRUDE17_REACH, mode=Mode.PRIVATE) & part.part
    add(cut_extrude17_tool1.solids().sort_by_distance((-42.784435, 0, 148.220419))[0], mode=Mode.SUBTRACT)
    # Sketch18 → Cut-Extrude17 (cut, up to next)
    with BuildSketch(Plane.XZ, mode=Mode.PRIVATE) as cut_extrude17_sk2:
        with Locations((-52.784434574, 148.220418613)):
            Circle(SKETCH18_R)
    cut_extrude17_tool2 = extrude(cut_extrude17_sk2.sketch, amount=-CUT_EXTRUDE17_REACH, mode=Mode.PRIVATE) & part.part
    add(cut_extrude17_tool2.solids().sort_by_distance((-52.784435, 0, 148.220419))[0], mode=Mode.SUBTRACT)
    # Sketch18 → Cut-Extrude17 (cut, up to next)
    with BuildSketch(Plane.XZ, mode=Mode.PRIVATE) as cut_extrude17_sk3:
        with Locations((-62.784434574, 148.220418613)):
            Circle(SKETCH18_R)
    cut_extrude17_tool3 = extrude(cut_extrude17_sk3.sketch, amount=-CUT_EXTRUDE17_REACH, mode=Mode.PRIVATE) & part.part
    add(cut_extrude17_tool3.solids().sort_by_distance((-62.784435, 0, 148.220419))[0], mode=Mode.SUBTRACT)
    # Sketch18 → Cut-Extrude17 (cut, up to next)
    with BuildSketch(Plane.XZ, mode=Mode.PRIVATE) as cut_extrude17_sk4:
        with Locations((-82.784434574, 148.220418613)):
            Circle(SKETCH18_R)
    cut_extrude17_tool4 = extrude(cut_extrude17_sk4.sketch, amount=-CUT_EXTRUDE17_REACH, mode=Mode.PRIVATE) & part.part
    add(cut_extrude17_tool4.solids().sort_by_distance((-82.784435, 0, 148.220419))[0], mode=Mode.SUBTRACT)
    # Sketch18 → Cut-Extrude17 (cut, up to next)
    with BuildSketch(Plane.XZ, mode=Mode.PRIVATE) as cut_extrude17_sk5:
        with Locations((-92.784434574, 148.220418613)):
            Circle(SKETCH18_R)
    cut_extrude17_tool5 = extrude(cut_extrude17_sk5.sketch, amount=-CUT_EXTRUDE17_REACH, mode=Mode.PRIVATE) & part.part
    add(cut_extrude17_tool5.solids().sort_by_distance((-92.784435, 0, 148.220419))[0], mode=Mode.SUBTRACT)
    # Sketch18 → Cut-Extrude17 (cut, up to next)
    with BuildSketch(Plane.XZ, mode=Mode.PRIVATE) as cut_extrude17_sk6:
        with Locations((-102.784434574, 148.220418613)):
            Circle(SKETCH18_R)
    cut_extrude17_tool6 = extrude(cut_extrude17_sk6.sketch, amount=-CUT_EXTRUDE17_REACH, mode=Mode.PRIVATE) & part.part
    add(cut_extrude17_tool6.solids().sort_by_distance((-102.784435, 0, 148.220419))[0], mode=Mode.SUBTRACT)
    # Sketch18 → Cut-Extrude17 (cut, up to next)
    with BuildSketch(Plane.XZ, mode=Mode.PRIVATE) as cut_extrude17_sk7:
        with Locations((-122.784434574, 148.220418613)):
            Circle(SKETCH18_R)
    cut_extrude17_tool7 = extrude(cut_extrude17_sk7.sketch, amount=-CUT_EXTRUDE17_REACH, mode=Mode.PRIVATE) & part.part
    add(cut_extrude17_tool7.solids().sort_by_distance((-122.784435, 0, 148.220419))[0], mode=Mode.SUBTRACT)
    # Sketch18 → Cut-Extrude17 (cut, up to next)
    with BuildSketch(Plane.XZ, mode=Mode.PRIVATE) as cut_extrude17_sk8:
        with Locations((-132.784434574, 148.220418613)):
            Circle(SKETCH18_R)
    cut_extrude17_tool8 = extrude(cut_extrude17_sk8.sketch, amount=-CUT_EXTRUDE17_REACH, mode=Mode.PRIVATE) & part.part
    add(cut_extrude17_tool8.solids().sort_by_distance((-132.784435, 0, 148.220419))[0], mode=Mode.SUBTRACT)
    # Sketch18 → Cut-Extrude17 (cut, up to next)
    with BuildSketch(Plane.XZ, mode=Mode.PRIVATE) as cut_extrude17_sk9:
        with Locations((-142.784434574, 148.220418613)):
            Circle(SKETCH18_R)
    cut_extrude17_tool9 = extrude(cut_extrude17_sk9.sketch, amount=-CUT_EXTRUDE17_REACH, mode=Mode.PRIVATE) & part.part
    add(cut_extrude17_tool9.solids().sort_by_distance((-142.784435, 0, 148.220419))[0], mode=Mode.SUBTRACT)


solid = part.part
